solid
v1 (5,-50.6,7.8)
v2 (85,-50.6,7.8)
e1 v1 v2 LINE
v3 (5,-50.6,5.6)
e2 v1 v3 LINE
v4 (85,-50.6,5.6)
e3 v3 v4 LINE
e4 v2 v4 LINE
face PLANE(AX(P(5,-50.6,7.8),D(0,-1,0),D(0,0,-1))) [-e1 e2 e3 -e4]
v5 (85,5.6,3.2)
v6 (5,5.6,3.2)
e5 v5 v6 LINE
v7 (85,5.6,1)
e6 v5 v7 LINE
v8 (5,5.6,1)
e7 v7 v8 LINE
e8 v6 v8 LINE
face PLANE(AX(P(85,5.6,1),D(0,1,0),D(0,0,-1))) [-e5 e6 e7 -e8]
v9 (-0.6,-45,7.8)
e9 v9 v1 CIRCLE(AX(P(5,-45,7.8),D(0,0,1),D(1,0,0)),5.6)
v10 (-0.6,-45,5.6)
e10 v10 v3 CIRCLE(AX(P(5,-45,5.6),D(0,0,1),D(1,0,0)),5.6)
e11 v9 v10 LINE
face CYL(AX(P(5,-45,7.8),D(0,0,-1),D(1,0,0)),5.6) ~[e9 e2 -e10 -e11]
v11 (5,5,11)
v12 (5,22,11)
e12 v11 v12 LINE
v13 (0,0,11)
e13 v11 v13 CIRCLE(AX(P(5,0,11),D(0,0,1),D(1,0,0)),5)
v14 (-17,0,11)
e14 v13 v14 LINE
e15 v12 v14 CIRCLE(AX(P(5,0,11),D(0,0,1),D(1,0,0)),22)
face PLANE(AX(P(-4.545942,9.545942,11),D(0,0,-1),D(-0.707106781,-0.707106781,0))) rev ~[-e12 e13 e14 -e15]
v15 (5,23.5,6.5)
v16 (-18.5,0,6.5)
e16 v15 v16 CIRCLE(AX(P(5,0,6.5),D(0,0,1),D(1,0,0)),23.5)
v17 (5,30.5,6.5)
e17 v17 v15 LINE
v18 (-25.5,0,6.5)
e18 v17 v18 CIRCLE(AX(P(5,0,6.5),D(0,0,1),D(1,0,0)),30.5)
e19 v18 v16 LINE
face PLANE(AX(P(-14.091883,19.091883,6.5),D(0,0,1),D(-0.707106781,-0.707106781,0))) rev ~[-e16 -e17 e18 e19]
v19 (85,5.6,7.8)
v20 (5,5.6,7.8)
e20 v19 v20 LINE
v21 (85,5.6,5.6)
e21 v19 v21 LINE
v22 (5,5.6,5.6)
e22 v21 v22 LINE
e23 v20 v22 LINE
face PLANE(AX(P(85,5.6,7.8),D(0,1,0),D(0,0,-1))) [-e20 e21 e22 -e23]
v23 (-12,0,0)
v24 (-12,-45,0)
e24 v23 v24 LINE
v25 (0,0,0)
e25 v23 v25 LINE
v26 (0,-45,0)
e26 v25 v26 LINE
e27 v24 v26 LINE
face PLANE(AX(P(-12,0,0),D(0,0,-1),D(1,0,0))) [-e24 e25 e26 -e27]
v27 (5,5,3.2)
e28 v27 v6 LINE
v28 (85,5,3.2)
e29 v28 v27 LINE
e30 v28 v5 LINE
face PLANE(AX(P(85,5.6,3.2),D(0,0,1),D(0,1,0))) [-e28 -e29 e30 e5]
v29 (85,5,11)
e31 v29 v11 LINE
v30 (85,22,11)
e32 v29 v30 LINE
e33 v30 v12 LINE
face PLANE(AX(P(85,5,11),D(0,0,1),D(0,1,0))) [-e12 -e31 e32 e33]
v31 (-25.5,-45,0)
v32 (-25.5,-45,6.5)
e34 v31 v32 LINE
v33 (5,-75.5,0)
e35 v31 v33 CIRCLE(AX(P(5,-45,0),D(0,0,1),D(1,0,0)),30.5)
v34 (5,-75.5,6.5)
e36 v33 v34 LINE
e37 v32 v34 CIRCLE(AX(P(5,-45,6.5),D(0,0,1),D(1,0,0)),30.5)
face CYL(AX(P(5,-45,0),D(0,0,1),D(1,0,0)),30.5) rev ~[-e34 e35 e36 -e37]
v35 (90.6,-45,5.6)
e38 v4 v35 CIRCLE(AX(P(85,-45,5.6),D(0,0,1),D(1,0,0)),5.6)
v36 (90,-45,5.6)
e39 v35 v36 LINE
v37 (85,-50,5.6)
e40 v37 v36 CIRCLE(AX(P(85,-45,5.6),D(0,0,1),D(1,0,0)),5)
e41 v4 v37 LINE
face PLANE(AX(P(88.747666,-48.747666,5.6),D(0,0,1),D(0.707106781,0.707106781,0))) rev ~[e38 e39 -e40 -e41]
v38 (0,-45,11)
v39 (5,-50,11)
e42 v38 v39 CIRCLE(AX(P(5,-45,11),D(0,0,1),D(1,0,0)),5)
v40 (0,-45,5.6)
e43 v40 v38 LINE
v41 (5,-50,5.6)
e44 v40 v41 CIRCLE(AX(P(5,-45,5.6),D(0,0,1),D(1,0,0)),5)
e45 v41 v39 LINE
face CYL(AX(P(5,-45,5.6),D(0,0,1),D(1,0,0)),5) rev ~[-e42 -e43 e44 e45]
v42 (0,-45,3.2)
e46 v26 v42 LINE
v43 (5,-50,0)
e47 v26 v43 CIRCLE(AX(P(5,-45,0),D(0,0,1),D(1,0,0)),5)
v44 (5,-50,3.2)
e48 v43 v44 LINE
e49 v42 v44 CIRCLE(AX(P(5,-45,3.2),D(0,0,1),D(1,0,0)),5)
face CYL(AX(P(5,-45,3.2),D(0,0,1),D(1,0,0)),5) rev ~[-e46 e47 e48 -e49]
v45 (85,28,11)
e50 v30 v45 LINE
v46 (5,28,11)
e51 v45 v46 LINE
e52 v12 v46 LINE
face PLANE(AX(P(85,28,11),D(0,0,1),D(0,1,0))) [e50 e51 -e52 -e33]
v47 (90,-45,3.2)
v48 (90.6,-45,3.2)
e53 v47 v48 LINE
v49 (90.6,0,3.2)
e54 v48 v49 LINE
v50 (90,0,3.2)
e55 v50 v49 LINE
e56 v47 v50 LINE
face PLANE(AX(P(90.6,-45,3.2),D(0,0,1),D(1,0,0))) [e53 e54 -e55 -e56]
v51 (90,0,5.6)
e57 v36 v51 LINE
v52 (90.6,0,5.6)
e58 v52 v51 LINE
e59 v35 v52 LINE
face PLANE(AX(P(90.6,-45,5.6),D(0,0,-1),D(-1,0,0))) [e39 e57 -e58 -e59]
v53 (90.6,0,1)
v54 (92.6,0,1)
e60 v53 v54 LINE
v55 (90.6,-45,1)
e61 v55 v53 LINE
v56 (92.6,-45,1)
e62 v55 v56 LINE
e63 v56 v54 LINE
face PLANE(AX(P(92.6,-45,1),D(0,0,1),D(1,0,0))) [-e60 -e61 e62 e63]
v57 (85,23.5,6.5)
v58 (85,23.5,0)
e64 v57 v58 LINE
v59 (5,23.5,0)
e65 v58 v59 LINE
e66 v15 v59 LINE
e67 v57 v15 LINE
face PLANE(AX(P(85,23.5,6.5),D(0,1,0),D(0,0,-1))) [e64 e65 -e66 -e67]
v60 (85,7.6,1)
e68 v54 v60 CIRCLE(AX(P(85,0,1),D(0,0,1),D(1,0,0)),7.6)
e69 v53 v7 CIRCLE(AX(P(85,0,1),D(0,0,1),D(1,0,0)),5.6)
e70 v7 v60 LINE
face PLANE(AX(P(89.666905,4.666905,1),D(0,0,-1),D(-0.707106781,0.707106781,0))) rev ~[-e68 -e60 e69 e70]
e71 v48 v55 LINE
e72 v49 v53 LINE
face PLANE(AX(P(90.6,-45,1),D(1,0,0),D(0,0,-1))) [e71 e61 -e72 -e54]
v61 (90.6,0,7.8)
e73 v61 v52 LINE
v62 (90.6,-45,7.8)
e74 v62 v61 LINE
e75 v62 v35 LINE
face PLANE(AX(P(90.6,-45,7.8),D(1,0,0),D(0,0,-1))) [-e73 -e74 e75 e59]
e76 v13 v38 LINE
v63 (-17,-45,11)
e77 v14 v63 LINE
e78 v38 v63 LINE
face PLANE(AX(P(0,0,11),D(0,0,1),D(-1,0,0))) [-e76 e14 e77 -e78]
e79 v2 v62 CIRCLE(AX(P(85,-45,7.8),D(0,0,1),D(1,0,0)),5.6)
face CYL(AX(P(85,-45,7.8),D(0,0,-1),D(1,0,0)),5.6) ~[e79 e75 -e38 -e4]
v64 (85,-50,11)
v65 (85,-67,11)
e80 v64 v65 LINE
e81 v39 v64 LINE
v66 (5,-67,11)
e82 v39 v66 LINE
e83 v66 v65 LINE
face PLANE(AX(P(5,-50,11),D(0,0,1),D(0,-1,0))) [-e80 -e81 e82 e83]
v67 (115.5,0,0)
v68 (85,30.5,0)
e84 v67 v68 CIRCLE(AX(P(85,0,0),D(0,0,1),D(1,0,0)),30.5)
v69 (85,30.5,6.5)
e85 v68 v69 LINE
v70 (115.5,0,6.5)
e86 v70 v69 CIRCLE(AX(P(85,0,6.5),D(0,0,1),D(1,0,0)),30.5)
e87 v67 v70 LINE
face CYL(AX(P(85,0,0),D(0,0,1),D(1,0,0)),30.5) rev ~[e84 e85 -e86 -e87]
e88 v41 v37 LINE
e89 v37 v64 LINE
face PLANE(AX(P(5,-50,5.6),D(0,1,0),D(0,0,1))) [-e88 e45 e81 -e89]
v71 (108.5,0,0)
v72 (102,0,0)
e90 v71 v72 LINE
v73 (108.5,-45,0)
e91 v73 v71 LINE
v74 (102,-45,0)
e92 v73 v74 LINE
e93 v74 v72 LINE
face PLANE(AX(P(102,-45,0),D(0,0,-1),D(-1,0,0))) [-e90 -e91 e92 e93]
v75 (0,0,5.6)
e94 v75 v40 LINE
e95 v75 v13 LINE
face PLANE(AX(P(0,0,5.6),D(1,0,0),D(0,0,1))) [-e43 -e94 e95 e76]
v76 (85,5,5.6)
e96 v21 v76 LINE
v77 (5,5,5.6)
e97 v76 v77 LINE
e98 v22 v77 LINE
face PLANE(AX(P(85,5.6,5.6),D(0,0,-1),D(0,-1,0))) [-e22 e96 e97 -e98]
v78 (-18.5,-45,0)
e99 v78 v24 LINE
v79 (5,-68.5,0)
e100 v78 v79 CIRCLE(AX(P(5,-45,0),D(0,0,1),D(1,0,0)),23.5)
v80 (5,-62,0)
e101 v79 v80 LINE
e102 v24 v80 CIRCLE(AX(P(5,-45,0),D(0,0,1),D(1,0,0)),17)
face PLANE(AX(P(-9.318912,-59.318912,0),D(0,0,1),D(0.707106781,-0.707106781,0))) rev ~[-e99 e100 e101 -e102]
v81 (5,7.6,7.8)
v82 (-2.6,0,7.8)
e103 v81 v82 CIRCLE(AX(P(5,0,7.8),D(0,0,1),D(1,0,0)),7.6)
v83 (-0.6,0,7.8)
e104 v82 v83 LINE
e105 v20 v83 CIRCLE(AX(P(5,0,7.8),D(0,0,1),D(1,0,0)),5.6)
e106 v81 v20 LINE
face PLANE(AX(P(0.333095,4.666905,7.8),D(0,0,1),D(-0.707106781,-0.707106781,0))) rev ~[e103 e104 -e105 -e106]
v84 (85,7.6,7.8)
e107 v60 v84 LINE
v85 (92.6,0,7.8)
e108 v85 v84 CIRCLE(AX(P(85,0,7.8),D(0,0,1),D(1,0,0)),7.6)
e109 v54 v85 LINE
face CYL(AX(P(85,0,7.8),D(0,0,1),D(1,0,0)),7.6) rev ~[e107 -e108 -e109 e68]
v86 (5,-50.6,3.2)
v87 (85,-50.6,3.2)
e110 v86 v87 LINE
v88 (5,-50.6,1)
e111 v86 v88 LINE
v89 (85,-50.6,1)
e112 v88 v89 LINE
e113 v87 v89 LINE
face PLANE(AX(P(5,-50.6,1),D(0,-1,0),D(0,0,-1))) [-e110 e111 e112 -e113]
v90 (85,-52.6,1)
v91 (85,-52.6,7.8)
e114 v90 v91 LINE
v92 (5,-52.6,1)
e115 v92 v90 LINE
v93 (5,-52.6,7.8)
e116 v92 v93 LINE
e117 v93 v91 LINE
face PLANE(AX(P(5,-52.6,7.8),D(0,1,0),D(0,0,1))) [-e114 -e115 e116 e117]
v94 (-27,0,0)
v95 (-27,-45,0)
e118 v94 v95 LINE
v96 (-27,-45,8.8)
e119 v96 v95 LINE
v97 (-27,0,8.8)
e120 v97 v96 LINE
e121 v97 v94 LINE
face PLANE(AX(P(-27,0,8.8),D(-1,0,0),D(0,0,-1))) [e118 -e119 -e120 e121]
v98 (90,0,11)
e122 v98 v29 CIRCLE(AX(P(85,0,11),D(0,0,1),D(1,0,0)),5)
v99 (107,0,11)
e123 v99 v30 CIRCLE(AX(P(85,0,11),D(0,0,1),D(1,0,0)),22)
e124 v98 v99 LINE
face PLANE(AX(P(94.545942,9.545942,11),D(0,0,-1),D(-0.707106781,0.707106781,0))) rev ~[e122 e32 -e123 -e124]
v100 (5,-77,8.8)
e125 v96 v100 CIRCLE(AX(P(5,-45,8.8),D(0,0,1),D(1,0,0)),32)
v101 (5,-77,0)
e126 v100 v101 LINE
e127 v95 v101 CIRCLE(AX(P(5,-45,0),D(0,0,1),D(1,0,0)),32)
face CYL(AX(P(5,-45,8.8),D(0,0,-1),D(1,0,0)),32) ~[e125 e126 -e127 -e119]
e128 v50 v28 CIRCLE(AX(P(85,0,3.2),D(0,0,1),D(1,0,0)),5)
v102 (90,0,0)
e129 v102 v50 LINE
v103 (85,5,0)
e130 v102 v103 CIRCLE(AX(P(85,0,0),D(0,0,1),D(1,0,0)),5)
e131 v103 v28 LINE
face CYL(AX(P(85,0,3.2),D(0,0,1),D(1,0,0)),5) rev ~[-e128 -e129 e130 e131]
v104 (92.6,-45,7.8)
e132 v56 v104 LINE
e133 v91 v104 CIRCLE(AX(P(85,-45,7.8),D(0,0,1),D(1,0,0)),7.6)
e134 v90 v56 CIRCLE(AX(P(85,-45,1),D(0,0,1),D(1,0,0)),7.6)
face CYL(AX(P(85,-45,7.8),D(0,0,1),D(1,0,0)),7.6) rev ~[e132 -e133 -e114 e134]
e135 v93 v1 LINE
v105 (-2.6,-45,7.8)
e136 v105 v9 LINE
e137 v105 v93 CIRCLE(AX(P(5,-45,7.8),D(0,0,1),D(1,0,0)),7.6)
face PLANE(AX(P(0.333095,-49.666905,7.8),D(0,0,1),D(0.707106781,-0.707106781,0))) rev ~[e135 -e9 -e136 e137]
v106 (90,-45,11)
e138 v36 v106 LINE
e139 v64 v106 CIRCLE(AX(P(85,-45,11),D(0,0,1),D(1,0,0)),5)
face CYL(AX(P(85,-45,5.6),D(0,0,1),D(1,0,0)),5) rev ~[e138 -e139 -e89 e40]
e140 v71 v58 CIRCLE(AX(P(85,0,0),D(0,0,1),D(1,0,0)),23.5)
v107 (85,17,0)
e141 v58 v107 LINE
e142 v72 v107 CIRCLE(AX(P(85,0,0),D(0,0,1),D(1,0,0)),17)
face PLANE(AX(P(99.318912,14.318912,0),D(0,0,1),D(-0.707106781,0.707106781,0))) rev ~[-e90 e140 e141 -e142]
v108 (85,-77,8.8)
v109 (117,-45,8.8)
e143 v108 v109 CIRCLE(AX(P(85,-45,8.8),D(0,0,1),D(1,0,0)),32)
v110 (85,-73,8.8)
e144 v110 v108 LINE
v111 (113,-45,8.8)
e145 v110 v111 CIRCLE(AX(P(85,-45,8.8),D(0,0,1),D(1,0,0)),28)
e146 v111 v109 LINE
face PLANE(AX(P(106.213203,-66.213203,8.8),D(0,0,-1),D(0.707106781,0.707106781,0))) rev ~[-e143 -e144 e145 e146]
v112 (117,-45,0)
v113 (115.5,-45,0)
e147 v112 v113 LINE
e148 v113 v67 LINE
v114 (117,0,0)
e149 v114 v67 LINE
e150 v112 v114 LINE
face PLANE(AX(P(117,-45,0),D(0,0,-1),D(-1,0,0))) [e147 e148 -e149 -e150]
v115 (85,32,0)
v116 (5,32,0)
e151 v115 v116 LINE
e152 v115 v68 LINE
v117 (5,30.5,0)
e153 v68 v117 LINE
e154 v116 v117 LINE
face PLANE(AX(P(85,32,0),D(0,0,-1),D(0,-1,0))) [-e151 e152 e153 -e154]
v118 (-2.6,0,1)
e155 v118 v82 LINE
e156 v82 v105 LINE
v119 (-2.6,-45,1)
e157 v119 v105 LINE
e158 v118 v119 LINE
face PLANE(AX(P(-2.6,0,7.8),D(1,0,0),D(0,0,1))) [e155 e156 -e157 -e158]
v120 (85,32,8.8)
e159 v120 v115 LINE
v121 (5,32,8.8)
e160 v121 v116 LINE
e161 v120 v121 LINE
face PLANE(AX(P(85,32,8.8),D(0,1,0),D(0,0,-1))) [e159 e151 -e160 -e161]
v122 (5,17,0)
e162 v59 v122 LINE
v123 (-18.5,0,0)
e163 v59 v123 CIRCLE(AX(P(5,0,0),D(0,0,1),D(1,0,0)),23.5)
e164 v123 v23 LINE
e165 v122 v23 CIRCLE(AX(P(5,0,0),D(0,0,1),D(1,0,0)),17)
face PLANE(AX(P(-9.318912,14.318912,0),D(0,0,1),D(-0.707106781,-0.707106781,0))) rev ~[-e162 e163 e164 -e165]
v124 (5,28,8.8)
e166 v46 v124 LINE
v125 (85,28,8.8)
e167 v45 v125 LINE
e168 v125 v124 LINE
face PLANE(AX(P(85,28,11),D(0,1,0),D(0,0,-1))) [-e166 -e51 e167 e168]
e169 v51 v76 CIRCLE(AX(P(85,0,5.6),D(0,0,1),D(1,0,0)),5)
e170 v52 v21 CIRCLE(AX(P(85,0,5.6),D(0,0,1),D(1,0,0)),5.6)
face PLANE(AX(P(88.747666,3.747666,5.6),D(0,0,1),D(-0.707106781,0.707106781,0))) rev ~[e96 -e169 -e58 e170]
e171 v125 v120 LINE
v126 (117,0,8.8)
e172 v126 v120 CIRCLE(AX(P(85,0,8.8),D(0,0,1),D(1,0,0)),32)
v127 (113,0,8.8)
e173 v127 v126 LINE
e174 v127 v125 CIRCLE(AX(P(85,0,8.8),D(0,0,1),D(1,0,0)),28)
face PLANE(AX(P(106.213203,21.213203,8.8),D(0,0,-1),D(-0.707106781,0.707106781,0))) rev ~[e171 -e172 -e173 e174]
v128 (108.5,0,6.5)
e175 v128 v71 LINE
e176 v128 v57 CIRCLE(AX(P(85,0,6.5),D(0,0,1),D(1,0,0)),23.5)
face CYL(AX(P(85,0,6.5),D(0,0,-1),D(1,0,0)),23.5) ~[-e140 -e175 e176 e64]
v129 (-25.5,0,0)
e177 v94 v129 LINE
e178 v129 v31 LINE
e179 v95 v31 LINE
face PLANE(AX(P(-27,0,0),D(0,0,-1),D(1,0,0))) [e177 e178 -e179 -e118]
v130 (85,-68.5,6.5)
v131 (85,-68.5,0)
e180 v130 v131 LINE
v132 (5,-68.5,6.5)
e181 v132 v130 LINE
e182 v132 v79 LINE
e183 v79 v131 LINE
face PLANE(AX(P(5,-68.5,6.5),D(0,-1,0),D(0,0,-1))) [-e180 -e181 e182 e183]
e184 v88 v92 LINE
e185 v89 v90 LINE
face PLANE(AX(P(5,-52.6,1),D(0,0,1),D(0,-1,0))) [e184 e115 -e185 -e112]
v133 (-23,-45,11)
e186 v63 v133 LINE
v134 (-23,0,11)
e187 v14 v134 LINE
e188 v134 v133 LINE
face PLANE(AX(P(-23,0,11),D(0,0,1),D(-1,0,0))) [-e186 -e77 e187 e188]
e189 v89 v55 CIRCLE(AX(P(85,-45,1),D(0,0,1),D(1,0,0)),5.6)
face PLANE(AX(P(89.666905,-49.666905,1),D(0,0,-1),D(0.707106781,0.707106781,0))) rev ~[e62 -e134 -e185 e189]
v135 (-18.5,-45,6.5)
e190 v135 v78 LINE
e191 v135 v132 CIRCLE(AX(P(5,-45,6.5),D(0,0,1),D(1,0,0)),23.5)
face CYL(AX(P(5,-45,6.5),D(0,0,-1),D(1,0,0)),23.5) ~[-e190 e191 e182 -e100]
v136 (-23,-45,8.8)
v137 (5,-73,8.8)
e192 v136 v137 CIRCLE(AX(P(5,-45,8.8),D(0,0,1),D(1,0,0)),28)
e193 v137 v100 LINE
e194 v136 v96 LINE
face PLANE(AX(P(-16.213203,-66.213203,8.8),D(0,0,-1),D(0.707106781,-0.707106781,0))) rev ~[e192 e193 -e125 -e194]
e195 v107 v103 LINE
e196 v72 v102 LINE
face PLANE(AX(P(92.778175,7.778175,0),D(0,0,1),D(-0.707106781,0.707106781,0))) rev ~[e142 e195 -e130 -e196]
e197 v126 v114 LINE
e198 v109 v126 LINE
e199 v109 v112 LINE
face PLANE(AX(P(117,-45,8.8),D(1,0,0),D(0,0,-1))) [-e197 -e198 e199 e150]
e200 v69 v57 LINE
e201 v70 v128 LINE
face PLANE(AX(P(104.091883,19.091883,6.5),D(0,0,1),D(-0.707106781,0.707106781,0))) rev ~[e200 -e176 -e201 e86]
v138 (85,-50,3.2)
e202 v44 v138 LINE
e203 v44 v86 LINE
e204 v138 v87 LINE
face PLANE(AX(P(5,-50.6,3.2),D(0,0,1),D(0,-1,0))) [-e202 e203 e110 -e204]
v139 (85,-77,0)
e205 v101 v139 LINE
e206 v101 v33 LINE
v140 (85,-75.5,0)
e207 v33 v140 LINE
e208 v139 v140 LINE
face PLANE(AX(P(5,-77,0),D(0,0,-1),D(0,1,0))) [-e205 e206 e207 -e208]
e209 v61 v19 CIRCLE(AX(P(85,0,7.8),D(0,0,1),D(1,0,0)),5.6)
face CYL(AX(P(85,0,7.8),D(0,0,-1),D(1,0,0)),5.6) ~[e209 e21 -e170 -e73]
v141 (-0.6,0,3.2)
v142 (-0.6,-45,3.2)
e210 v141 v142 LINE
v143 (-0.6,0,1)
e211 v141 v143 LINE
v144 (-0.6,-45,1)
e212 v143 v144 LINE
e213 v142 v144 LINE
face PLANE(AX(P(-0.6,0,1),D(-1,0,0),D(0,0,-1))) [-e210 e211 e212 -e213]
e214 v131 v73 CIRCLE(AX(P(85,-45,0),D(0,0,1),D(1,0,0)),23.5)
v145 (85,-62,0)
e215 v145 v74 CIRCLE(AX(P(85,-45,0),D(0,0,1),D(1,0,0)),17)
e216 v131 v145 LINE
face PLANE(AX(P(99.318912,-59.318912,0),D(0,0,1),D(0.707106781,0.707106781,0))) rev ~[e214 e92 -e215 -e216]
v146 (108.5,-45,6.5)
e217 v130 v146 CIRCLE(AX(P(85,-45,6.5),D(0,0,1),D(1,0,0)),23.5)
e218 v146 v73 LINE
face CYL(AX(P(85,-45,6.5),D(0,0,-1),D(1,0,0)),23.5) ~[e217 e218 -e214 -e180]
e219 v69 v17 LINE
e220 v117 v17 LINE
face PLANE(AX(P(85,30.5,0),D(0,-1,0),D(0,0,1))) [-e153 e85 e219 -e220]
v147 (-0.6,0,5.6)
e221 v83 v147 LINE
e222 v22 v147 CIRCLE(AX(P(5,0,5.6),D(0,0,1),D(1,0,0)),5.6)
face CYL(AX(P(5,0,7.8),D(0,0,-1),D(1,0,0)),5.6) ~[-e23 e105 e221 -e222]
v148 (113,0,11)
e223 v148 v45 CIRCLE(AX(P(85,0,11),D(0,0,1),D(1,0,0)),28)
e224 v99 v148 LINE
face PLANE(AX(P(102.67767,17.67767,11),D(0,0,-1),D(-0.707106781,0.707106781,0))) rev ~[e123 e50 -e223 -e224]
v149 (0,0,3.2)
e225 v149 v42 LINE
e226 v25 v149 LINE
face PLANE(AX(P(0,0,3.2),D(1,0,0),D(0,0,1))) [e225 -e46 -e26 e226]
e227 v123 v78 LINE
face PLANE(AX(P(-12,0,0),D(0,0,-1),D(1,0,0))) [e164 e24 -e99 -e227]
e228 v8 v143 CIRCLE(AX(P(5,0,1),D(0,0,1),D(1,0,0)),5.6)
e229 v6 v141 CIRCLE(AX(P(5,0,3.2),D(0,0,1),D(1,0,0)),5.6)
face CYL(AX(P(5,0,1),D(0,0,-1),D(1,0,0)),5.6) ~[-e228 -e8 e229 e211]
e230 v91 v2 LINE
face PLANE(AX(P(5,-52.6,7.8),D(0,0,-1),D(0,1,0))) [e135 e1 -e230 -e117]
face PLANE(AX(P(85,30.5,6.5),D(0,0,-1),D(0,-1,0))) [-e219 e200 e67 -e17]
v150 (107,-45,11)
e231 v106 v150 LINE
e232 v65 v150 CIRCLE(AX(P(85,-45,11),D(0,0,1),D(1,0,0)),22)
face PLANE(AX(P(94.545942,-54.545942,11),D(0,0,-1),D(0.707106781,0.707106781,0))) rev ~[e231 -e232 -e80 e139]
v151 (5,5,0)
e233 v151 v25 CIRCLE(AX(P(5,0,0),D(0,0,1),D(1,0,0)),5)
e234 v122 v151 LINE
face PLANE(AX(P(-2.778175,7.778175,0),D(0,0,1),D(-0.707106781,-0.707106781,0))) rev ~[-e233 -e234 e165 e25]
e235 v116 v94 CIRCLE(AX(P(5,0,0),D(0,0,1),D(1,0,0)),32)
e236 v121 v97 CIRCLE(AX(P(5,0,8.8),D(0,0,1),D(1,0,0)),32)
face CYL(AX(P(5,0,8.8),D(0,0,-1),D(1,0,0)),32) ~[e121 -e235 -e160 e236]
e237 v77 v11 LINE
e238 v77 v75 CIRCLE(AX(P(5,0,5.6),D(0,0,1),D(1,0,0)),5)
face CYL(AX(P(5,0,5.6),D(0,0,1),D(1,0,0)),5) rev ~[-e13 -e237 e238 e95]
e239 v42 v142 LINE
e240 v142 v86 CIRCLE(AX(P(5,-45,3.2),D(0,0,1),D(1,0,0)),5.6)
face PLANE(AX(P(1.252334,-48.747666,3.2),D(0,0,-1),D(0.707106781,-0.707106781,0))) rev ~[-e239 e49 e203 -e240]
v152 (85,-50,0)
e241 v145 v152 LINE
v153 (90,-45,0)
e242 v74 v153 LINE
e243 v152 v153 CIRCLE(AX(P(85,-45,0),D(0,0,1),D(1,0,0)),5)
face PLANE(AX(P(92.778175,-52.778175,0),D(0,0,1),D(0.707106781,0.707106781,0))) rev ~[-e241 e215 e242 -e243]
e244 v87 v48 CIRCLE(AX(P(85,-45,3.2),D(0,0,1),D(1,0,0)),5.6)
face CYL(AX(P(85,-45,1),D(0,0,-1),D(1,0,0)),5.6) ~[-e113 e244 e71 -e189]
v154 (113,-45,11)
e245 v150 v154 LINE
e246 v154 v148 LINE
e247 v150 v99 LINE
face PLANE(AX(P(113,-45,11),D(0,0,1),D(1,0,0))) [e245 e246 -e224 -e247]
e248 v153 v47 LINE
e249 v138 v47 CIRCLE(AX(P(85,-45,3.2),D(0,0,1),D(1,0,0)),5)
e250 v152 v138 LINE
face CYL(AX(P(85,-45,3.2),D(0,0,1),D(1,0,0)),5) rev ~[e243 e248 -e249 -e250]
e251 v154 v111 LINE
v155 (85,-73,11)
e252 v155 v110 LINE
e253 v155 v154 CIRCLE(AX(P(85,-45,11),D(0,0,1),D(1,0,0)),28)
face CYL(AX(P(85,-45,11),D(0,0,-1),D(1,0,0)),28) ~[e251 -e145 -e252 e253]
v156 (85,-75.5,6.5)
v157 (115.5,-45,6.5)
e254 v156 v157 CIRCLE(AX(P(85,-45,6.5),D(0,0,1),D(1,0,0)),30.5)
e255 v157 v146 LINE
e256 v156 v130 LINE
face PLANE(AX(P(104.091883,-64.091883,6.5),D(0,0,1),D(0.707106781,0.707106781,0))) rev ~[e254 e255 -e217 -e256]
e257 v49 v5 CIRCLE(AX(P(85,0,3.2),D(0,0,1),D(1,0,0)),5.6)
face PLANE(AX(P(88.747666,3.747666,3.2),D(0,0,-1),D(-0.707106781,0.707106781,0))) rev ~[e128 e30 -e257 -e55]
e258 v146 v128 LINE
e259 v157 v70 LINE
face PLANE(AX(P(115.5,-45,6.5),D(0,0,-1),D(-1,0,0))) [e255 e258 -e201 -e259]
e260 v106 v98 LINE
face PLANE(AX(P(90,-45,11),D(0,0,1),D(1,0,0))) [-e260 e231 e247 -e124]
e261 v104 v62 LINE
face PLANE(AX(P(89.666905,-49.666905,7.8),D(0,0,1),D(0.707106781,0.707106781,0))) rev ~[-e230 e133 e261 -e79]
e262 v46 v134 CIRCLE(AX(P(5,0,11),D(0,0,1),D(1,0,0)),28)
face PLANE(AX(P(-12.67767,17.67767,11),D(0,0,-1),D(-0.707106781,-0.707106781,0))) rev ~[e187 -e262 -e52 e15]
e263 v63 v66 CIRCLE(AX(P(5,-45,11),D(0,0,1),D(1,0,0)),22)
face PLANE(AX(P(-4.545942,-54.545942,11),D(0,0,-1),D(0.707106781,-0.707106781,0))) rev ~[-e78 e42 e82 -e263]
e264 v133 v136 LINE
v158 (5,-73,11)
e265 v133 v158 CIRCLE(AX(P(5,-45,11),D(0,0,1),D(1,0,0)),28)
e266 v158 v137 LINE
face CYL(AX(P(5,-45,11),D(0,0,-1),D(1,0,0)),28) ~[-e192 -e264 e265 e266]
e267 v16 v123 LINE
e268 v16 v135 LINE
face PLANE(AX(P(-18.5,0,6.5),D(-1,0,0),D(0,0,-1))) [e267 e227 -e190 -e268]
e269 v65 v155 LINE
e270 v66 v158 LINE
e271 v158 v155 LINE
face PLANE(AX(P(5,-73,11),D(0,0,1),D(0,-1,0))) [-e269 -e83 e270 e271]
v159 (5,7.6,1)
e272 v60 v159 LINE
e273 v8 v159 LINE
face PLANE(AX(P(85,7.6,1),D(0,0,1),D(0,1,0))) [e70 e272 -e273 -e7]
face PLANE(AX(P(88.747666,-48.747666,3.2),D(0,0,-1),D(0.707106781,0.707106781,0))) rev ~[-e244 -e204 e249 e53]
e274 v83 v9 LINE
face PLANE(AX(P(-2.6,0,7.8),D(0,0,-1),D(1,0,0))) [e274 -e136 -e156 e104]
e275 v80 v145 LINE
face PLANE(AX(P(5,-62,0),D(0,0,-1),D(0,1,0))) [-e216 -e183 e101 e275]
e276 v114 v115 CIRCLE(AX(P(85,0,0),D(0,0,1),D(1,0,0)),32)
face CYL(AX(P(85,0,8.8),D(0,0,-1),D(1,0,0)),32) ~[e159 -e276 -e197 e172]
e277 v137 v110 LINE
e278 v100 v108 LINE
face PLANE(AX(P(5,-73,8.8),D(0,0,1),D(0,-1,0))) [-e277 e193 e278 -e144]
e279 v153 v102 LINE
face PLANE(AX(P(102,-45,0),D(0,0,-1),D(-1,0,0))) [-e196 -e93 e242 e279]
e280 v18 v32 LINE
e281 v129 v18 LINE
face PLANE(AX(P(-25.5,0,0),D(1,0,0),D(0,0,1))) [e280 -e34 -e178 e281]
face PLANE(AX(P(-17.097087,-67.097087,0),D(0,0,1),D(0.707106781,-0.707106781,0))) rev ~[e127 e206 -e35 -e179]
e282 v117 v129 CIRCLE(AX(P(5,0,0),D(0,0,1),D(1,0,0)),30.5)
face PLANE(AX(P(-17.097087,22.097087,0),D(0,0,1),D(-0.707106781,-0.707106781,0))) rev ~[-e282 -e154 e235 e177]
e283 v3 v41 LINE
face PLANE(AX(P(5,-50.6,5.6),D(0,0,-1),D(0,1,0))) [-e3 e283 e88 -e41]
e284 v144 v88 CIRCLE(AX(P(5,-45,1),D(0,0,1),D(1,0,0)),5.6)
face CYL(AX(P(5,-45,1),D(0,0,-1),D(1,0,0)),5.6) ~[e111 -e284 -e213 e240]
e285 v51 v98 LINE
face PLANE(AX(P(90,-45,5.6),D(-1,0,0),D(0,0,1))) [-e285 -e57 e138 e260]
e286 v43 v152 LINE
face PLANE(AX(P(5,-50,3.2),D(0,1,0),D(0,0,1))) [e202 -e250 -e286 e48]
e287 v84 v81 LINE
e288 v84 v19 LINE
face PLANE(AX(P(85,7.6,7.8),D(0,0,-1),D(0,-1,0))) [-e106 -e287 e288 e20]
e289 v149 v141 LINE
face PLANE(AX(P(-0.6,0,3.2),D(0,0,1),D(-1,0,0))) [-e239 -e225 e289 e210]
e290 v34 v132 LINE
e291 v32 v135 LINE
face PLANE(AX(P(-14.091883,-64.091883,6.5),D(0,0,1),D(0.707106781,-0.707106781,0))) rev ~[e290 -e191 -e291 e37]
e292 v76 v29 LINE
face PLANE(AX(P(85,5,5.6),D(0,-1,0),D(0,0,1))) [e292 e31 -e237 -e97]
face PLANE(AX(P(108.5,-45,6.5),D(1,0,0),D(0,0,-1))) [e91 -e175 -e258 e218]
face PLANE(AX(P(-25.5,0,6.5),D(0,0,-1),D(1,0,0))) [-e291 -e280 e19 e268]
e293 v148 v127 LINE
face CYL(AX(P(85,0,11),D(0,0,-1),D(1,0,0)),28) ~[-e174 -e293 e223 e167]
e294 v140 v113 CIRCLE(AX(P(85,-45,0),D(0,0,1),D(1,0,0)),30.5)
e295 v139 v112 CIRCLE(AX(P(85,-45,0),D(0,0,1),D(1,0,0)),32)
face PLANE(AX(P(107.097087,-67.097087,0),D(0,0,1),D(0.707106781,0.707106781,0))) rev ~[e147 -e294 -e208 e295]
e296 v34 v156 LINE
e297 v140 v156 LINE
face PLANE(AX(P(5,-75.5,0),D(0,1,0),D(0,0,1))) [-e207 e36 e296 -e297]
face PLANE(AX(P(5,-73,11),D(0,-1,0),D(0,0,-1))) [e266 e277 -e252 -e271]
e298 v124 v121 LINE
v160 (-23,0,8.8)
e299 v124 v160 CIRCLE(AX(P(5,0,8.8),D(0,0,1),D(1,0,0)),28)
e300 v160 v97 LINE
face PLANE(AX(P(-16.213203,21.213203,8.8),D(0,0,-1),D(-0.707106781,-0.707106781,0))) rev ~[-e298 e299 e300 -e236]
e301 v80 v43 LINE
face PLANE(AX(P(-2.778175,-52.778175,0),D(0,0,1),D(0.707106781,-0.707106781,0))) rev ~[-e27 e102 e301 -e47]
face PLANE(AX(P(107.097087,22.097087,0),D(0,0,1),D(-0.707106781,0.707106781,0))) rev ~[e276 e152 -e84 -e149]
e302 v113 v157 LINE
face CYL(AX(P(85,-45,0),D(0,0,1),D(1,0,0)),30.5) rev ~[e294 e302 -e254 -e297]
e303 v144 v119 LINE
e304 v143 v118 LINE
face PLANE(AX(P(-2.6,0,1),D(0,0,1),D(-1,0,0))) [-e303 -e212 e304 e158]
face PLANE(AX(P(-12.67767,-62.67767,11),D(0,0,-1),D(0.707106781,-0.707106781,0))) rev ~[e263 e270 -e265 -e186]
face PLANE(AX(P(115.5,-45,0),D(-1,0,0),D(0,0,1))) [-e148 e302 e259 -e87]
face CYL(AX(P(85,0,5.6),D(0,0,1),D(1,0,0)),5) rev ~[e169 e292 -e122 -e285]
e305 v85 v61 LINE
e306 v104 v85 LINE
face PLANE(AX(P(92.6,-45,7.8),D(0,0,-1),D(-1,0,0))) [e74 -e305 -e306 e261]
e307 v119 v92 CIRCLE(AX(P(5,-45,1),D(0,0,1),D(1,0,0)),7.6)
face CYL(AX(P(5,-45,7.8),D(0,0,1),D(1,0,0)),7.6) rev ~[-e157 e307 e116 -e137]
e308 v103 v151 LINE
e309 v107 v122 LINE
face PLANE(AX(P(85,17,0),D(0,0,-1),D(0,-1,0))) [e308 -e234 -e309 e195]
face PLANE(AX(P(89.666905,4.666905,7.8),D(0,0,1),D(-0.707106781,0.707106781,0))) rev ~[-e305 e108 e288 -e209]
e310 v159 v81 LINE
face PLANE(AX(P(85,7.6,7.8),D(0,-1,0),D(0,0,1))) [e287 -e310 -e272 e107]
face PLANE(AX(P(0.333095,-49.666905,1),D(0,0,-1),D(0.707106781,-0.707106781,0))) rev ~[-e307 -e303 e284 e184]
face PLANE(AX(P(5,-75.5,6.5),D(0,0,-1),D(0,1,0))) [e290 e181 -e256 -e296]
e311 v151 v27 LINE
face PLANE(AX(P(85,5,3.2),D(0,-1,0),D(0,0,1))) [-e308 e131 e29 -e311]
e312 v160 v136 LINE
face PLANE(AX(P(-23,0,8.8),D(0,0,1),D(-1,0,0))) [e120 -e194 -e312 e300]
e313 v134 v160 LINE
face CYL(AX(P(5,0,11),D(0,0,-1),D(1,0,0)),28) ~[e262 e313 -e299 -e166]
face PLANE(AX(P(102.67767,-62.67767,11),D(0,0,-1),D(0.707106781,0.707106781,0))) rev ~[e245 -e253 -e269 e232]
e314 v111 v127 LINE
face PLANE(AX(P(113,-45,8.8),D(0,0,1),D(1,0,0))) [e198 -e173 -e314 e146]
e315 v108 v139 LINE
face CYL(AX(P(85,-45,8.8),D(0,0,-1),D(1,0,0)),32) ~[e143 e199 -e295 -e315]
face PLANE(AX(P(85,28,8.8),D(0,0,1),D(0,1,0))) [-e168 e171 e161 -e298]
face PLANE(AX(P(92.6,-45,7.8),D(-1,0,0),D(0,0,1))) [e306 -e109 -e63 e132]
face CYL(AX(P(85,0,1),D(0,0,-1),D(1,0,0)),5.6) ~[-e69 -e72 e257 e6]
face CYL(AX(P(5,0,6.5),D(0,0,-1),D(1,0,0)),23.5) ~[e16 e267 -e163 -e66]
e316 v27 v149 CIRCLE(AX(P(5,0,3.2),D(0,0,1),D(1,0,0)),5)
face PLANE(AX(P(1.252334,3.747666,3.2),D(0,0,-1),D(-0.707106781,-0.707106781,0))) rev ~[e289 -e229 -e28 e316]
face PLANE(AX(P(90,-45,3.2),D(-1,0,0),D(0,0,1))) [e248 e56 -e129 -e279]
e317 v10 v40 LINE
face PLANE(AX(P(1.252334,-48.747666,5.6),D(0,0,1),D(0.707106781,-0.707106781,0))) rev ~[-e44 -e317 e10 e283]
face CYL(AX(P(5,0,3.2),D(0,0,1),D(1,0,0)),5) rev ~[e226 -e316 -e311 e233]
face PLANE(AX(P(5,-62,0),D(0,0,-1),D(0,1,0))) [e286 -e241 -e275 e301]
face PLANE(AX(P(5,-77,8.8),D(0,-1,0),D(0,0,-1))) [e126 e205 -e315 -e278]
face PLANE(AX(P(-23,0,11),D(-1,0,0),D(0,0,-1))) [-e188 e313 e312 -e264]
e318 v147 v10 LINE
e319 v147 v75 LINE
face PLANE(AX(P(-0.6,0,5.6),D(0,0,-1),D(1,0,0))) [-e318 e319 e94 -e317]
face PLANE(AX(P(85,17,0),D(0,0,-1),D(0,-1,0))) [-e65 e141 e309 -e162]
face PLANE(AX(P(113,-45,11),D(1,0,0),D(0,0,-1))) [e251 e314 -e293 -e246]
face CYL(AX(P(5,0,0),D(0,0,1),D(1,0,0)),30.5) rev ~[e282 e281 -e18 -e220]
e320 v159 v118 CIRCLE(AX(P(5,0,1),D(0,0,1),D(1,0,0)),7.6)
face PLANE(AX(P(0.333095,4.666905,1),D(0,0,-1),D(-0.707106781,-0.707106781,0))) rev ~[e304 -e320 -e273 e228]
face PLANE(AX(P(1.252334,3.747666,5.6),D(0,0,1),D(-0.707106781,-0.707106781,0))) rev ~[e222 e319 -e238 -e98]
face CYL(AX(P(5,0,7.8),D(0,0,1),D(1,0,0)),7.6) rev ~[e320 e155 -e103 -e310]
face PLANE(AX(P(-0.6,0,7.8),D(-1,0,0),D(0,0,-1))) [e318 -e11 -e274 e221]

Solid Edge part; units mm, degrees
sketch "Sketch1" plane through (0, 0, 0) normal (0, 0, 1) x (1, 0, 0)
  line L0 (85, 5) -> (5, 5)
  arc A0 (0, 0) -> (5, 5) centre (5, 0) cw
  line L1 (0, 0) -> (0, -45)
  arc A1 (0, -45) -> (5, -50) centre (5, -45) ccw
  line L2 (5, -50) -> (85, -50)
  arc A2 (90, -45) -> (85, -50) centre (85, -45) cw
  line L3 (90, -45) -> (90, 0)
  arc A3 (85, 5) -> (90, 0) centre (85, 0) cw
sketch "Sketch2" plane through (0, 0, 0) normal (0, -1, 0) x (1, 0, 0)
  line L0 (-12, 0) -> (0, 0)
  line L1 (0, 3.2) -> (0, 0)
  line L2 (-0.6, 3.2) -> (0, 3.2)
  line L3 (-0.6, 1) -> (-0.6, 3.2)
  line L4 (-2.6, 1) -> (-0.6, 1)
  line L5 (-2.6, 7.8) -> (-2.6, 1)
  line L6 (-2.6, 7.8) -> (-0.6, 7.8)
  line L7 (-0.6, 7.8) -> (-0.6, 5.6)
  line L8 (-0.6, 5.6) -> (0, 5.6)
  line L9 (0, 5.6) -> (0, 11)
  line L10 (0, 11) -> (-17, 11)
  line L11 (-23, 11) -> (-17, 11)
  line L12 (-23, 11) -> (-23, 8.8)
  line L13 (-23, 8.8) -> (-27, 8.8)
  line L14 (-27, 8.8) -> (-27, 0)
  line L15 (-27, 0) -> (-25.5, 0)
  line L16 (-25.5, 0) -> (-25.5, 6.5)
  line L17 (-25.5, 6.5) -> (-18.5, 6.5)
  line L18 (-18.5, 6.5) -> (-18.5, 0)
  line L19 (-12, 0) -> (-18.5, 0)
sweep "SweptProtrusion_13" add profiles "Sketch2" path "Sketch1"
